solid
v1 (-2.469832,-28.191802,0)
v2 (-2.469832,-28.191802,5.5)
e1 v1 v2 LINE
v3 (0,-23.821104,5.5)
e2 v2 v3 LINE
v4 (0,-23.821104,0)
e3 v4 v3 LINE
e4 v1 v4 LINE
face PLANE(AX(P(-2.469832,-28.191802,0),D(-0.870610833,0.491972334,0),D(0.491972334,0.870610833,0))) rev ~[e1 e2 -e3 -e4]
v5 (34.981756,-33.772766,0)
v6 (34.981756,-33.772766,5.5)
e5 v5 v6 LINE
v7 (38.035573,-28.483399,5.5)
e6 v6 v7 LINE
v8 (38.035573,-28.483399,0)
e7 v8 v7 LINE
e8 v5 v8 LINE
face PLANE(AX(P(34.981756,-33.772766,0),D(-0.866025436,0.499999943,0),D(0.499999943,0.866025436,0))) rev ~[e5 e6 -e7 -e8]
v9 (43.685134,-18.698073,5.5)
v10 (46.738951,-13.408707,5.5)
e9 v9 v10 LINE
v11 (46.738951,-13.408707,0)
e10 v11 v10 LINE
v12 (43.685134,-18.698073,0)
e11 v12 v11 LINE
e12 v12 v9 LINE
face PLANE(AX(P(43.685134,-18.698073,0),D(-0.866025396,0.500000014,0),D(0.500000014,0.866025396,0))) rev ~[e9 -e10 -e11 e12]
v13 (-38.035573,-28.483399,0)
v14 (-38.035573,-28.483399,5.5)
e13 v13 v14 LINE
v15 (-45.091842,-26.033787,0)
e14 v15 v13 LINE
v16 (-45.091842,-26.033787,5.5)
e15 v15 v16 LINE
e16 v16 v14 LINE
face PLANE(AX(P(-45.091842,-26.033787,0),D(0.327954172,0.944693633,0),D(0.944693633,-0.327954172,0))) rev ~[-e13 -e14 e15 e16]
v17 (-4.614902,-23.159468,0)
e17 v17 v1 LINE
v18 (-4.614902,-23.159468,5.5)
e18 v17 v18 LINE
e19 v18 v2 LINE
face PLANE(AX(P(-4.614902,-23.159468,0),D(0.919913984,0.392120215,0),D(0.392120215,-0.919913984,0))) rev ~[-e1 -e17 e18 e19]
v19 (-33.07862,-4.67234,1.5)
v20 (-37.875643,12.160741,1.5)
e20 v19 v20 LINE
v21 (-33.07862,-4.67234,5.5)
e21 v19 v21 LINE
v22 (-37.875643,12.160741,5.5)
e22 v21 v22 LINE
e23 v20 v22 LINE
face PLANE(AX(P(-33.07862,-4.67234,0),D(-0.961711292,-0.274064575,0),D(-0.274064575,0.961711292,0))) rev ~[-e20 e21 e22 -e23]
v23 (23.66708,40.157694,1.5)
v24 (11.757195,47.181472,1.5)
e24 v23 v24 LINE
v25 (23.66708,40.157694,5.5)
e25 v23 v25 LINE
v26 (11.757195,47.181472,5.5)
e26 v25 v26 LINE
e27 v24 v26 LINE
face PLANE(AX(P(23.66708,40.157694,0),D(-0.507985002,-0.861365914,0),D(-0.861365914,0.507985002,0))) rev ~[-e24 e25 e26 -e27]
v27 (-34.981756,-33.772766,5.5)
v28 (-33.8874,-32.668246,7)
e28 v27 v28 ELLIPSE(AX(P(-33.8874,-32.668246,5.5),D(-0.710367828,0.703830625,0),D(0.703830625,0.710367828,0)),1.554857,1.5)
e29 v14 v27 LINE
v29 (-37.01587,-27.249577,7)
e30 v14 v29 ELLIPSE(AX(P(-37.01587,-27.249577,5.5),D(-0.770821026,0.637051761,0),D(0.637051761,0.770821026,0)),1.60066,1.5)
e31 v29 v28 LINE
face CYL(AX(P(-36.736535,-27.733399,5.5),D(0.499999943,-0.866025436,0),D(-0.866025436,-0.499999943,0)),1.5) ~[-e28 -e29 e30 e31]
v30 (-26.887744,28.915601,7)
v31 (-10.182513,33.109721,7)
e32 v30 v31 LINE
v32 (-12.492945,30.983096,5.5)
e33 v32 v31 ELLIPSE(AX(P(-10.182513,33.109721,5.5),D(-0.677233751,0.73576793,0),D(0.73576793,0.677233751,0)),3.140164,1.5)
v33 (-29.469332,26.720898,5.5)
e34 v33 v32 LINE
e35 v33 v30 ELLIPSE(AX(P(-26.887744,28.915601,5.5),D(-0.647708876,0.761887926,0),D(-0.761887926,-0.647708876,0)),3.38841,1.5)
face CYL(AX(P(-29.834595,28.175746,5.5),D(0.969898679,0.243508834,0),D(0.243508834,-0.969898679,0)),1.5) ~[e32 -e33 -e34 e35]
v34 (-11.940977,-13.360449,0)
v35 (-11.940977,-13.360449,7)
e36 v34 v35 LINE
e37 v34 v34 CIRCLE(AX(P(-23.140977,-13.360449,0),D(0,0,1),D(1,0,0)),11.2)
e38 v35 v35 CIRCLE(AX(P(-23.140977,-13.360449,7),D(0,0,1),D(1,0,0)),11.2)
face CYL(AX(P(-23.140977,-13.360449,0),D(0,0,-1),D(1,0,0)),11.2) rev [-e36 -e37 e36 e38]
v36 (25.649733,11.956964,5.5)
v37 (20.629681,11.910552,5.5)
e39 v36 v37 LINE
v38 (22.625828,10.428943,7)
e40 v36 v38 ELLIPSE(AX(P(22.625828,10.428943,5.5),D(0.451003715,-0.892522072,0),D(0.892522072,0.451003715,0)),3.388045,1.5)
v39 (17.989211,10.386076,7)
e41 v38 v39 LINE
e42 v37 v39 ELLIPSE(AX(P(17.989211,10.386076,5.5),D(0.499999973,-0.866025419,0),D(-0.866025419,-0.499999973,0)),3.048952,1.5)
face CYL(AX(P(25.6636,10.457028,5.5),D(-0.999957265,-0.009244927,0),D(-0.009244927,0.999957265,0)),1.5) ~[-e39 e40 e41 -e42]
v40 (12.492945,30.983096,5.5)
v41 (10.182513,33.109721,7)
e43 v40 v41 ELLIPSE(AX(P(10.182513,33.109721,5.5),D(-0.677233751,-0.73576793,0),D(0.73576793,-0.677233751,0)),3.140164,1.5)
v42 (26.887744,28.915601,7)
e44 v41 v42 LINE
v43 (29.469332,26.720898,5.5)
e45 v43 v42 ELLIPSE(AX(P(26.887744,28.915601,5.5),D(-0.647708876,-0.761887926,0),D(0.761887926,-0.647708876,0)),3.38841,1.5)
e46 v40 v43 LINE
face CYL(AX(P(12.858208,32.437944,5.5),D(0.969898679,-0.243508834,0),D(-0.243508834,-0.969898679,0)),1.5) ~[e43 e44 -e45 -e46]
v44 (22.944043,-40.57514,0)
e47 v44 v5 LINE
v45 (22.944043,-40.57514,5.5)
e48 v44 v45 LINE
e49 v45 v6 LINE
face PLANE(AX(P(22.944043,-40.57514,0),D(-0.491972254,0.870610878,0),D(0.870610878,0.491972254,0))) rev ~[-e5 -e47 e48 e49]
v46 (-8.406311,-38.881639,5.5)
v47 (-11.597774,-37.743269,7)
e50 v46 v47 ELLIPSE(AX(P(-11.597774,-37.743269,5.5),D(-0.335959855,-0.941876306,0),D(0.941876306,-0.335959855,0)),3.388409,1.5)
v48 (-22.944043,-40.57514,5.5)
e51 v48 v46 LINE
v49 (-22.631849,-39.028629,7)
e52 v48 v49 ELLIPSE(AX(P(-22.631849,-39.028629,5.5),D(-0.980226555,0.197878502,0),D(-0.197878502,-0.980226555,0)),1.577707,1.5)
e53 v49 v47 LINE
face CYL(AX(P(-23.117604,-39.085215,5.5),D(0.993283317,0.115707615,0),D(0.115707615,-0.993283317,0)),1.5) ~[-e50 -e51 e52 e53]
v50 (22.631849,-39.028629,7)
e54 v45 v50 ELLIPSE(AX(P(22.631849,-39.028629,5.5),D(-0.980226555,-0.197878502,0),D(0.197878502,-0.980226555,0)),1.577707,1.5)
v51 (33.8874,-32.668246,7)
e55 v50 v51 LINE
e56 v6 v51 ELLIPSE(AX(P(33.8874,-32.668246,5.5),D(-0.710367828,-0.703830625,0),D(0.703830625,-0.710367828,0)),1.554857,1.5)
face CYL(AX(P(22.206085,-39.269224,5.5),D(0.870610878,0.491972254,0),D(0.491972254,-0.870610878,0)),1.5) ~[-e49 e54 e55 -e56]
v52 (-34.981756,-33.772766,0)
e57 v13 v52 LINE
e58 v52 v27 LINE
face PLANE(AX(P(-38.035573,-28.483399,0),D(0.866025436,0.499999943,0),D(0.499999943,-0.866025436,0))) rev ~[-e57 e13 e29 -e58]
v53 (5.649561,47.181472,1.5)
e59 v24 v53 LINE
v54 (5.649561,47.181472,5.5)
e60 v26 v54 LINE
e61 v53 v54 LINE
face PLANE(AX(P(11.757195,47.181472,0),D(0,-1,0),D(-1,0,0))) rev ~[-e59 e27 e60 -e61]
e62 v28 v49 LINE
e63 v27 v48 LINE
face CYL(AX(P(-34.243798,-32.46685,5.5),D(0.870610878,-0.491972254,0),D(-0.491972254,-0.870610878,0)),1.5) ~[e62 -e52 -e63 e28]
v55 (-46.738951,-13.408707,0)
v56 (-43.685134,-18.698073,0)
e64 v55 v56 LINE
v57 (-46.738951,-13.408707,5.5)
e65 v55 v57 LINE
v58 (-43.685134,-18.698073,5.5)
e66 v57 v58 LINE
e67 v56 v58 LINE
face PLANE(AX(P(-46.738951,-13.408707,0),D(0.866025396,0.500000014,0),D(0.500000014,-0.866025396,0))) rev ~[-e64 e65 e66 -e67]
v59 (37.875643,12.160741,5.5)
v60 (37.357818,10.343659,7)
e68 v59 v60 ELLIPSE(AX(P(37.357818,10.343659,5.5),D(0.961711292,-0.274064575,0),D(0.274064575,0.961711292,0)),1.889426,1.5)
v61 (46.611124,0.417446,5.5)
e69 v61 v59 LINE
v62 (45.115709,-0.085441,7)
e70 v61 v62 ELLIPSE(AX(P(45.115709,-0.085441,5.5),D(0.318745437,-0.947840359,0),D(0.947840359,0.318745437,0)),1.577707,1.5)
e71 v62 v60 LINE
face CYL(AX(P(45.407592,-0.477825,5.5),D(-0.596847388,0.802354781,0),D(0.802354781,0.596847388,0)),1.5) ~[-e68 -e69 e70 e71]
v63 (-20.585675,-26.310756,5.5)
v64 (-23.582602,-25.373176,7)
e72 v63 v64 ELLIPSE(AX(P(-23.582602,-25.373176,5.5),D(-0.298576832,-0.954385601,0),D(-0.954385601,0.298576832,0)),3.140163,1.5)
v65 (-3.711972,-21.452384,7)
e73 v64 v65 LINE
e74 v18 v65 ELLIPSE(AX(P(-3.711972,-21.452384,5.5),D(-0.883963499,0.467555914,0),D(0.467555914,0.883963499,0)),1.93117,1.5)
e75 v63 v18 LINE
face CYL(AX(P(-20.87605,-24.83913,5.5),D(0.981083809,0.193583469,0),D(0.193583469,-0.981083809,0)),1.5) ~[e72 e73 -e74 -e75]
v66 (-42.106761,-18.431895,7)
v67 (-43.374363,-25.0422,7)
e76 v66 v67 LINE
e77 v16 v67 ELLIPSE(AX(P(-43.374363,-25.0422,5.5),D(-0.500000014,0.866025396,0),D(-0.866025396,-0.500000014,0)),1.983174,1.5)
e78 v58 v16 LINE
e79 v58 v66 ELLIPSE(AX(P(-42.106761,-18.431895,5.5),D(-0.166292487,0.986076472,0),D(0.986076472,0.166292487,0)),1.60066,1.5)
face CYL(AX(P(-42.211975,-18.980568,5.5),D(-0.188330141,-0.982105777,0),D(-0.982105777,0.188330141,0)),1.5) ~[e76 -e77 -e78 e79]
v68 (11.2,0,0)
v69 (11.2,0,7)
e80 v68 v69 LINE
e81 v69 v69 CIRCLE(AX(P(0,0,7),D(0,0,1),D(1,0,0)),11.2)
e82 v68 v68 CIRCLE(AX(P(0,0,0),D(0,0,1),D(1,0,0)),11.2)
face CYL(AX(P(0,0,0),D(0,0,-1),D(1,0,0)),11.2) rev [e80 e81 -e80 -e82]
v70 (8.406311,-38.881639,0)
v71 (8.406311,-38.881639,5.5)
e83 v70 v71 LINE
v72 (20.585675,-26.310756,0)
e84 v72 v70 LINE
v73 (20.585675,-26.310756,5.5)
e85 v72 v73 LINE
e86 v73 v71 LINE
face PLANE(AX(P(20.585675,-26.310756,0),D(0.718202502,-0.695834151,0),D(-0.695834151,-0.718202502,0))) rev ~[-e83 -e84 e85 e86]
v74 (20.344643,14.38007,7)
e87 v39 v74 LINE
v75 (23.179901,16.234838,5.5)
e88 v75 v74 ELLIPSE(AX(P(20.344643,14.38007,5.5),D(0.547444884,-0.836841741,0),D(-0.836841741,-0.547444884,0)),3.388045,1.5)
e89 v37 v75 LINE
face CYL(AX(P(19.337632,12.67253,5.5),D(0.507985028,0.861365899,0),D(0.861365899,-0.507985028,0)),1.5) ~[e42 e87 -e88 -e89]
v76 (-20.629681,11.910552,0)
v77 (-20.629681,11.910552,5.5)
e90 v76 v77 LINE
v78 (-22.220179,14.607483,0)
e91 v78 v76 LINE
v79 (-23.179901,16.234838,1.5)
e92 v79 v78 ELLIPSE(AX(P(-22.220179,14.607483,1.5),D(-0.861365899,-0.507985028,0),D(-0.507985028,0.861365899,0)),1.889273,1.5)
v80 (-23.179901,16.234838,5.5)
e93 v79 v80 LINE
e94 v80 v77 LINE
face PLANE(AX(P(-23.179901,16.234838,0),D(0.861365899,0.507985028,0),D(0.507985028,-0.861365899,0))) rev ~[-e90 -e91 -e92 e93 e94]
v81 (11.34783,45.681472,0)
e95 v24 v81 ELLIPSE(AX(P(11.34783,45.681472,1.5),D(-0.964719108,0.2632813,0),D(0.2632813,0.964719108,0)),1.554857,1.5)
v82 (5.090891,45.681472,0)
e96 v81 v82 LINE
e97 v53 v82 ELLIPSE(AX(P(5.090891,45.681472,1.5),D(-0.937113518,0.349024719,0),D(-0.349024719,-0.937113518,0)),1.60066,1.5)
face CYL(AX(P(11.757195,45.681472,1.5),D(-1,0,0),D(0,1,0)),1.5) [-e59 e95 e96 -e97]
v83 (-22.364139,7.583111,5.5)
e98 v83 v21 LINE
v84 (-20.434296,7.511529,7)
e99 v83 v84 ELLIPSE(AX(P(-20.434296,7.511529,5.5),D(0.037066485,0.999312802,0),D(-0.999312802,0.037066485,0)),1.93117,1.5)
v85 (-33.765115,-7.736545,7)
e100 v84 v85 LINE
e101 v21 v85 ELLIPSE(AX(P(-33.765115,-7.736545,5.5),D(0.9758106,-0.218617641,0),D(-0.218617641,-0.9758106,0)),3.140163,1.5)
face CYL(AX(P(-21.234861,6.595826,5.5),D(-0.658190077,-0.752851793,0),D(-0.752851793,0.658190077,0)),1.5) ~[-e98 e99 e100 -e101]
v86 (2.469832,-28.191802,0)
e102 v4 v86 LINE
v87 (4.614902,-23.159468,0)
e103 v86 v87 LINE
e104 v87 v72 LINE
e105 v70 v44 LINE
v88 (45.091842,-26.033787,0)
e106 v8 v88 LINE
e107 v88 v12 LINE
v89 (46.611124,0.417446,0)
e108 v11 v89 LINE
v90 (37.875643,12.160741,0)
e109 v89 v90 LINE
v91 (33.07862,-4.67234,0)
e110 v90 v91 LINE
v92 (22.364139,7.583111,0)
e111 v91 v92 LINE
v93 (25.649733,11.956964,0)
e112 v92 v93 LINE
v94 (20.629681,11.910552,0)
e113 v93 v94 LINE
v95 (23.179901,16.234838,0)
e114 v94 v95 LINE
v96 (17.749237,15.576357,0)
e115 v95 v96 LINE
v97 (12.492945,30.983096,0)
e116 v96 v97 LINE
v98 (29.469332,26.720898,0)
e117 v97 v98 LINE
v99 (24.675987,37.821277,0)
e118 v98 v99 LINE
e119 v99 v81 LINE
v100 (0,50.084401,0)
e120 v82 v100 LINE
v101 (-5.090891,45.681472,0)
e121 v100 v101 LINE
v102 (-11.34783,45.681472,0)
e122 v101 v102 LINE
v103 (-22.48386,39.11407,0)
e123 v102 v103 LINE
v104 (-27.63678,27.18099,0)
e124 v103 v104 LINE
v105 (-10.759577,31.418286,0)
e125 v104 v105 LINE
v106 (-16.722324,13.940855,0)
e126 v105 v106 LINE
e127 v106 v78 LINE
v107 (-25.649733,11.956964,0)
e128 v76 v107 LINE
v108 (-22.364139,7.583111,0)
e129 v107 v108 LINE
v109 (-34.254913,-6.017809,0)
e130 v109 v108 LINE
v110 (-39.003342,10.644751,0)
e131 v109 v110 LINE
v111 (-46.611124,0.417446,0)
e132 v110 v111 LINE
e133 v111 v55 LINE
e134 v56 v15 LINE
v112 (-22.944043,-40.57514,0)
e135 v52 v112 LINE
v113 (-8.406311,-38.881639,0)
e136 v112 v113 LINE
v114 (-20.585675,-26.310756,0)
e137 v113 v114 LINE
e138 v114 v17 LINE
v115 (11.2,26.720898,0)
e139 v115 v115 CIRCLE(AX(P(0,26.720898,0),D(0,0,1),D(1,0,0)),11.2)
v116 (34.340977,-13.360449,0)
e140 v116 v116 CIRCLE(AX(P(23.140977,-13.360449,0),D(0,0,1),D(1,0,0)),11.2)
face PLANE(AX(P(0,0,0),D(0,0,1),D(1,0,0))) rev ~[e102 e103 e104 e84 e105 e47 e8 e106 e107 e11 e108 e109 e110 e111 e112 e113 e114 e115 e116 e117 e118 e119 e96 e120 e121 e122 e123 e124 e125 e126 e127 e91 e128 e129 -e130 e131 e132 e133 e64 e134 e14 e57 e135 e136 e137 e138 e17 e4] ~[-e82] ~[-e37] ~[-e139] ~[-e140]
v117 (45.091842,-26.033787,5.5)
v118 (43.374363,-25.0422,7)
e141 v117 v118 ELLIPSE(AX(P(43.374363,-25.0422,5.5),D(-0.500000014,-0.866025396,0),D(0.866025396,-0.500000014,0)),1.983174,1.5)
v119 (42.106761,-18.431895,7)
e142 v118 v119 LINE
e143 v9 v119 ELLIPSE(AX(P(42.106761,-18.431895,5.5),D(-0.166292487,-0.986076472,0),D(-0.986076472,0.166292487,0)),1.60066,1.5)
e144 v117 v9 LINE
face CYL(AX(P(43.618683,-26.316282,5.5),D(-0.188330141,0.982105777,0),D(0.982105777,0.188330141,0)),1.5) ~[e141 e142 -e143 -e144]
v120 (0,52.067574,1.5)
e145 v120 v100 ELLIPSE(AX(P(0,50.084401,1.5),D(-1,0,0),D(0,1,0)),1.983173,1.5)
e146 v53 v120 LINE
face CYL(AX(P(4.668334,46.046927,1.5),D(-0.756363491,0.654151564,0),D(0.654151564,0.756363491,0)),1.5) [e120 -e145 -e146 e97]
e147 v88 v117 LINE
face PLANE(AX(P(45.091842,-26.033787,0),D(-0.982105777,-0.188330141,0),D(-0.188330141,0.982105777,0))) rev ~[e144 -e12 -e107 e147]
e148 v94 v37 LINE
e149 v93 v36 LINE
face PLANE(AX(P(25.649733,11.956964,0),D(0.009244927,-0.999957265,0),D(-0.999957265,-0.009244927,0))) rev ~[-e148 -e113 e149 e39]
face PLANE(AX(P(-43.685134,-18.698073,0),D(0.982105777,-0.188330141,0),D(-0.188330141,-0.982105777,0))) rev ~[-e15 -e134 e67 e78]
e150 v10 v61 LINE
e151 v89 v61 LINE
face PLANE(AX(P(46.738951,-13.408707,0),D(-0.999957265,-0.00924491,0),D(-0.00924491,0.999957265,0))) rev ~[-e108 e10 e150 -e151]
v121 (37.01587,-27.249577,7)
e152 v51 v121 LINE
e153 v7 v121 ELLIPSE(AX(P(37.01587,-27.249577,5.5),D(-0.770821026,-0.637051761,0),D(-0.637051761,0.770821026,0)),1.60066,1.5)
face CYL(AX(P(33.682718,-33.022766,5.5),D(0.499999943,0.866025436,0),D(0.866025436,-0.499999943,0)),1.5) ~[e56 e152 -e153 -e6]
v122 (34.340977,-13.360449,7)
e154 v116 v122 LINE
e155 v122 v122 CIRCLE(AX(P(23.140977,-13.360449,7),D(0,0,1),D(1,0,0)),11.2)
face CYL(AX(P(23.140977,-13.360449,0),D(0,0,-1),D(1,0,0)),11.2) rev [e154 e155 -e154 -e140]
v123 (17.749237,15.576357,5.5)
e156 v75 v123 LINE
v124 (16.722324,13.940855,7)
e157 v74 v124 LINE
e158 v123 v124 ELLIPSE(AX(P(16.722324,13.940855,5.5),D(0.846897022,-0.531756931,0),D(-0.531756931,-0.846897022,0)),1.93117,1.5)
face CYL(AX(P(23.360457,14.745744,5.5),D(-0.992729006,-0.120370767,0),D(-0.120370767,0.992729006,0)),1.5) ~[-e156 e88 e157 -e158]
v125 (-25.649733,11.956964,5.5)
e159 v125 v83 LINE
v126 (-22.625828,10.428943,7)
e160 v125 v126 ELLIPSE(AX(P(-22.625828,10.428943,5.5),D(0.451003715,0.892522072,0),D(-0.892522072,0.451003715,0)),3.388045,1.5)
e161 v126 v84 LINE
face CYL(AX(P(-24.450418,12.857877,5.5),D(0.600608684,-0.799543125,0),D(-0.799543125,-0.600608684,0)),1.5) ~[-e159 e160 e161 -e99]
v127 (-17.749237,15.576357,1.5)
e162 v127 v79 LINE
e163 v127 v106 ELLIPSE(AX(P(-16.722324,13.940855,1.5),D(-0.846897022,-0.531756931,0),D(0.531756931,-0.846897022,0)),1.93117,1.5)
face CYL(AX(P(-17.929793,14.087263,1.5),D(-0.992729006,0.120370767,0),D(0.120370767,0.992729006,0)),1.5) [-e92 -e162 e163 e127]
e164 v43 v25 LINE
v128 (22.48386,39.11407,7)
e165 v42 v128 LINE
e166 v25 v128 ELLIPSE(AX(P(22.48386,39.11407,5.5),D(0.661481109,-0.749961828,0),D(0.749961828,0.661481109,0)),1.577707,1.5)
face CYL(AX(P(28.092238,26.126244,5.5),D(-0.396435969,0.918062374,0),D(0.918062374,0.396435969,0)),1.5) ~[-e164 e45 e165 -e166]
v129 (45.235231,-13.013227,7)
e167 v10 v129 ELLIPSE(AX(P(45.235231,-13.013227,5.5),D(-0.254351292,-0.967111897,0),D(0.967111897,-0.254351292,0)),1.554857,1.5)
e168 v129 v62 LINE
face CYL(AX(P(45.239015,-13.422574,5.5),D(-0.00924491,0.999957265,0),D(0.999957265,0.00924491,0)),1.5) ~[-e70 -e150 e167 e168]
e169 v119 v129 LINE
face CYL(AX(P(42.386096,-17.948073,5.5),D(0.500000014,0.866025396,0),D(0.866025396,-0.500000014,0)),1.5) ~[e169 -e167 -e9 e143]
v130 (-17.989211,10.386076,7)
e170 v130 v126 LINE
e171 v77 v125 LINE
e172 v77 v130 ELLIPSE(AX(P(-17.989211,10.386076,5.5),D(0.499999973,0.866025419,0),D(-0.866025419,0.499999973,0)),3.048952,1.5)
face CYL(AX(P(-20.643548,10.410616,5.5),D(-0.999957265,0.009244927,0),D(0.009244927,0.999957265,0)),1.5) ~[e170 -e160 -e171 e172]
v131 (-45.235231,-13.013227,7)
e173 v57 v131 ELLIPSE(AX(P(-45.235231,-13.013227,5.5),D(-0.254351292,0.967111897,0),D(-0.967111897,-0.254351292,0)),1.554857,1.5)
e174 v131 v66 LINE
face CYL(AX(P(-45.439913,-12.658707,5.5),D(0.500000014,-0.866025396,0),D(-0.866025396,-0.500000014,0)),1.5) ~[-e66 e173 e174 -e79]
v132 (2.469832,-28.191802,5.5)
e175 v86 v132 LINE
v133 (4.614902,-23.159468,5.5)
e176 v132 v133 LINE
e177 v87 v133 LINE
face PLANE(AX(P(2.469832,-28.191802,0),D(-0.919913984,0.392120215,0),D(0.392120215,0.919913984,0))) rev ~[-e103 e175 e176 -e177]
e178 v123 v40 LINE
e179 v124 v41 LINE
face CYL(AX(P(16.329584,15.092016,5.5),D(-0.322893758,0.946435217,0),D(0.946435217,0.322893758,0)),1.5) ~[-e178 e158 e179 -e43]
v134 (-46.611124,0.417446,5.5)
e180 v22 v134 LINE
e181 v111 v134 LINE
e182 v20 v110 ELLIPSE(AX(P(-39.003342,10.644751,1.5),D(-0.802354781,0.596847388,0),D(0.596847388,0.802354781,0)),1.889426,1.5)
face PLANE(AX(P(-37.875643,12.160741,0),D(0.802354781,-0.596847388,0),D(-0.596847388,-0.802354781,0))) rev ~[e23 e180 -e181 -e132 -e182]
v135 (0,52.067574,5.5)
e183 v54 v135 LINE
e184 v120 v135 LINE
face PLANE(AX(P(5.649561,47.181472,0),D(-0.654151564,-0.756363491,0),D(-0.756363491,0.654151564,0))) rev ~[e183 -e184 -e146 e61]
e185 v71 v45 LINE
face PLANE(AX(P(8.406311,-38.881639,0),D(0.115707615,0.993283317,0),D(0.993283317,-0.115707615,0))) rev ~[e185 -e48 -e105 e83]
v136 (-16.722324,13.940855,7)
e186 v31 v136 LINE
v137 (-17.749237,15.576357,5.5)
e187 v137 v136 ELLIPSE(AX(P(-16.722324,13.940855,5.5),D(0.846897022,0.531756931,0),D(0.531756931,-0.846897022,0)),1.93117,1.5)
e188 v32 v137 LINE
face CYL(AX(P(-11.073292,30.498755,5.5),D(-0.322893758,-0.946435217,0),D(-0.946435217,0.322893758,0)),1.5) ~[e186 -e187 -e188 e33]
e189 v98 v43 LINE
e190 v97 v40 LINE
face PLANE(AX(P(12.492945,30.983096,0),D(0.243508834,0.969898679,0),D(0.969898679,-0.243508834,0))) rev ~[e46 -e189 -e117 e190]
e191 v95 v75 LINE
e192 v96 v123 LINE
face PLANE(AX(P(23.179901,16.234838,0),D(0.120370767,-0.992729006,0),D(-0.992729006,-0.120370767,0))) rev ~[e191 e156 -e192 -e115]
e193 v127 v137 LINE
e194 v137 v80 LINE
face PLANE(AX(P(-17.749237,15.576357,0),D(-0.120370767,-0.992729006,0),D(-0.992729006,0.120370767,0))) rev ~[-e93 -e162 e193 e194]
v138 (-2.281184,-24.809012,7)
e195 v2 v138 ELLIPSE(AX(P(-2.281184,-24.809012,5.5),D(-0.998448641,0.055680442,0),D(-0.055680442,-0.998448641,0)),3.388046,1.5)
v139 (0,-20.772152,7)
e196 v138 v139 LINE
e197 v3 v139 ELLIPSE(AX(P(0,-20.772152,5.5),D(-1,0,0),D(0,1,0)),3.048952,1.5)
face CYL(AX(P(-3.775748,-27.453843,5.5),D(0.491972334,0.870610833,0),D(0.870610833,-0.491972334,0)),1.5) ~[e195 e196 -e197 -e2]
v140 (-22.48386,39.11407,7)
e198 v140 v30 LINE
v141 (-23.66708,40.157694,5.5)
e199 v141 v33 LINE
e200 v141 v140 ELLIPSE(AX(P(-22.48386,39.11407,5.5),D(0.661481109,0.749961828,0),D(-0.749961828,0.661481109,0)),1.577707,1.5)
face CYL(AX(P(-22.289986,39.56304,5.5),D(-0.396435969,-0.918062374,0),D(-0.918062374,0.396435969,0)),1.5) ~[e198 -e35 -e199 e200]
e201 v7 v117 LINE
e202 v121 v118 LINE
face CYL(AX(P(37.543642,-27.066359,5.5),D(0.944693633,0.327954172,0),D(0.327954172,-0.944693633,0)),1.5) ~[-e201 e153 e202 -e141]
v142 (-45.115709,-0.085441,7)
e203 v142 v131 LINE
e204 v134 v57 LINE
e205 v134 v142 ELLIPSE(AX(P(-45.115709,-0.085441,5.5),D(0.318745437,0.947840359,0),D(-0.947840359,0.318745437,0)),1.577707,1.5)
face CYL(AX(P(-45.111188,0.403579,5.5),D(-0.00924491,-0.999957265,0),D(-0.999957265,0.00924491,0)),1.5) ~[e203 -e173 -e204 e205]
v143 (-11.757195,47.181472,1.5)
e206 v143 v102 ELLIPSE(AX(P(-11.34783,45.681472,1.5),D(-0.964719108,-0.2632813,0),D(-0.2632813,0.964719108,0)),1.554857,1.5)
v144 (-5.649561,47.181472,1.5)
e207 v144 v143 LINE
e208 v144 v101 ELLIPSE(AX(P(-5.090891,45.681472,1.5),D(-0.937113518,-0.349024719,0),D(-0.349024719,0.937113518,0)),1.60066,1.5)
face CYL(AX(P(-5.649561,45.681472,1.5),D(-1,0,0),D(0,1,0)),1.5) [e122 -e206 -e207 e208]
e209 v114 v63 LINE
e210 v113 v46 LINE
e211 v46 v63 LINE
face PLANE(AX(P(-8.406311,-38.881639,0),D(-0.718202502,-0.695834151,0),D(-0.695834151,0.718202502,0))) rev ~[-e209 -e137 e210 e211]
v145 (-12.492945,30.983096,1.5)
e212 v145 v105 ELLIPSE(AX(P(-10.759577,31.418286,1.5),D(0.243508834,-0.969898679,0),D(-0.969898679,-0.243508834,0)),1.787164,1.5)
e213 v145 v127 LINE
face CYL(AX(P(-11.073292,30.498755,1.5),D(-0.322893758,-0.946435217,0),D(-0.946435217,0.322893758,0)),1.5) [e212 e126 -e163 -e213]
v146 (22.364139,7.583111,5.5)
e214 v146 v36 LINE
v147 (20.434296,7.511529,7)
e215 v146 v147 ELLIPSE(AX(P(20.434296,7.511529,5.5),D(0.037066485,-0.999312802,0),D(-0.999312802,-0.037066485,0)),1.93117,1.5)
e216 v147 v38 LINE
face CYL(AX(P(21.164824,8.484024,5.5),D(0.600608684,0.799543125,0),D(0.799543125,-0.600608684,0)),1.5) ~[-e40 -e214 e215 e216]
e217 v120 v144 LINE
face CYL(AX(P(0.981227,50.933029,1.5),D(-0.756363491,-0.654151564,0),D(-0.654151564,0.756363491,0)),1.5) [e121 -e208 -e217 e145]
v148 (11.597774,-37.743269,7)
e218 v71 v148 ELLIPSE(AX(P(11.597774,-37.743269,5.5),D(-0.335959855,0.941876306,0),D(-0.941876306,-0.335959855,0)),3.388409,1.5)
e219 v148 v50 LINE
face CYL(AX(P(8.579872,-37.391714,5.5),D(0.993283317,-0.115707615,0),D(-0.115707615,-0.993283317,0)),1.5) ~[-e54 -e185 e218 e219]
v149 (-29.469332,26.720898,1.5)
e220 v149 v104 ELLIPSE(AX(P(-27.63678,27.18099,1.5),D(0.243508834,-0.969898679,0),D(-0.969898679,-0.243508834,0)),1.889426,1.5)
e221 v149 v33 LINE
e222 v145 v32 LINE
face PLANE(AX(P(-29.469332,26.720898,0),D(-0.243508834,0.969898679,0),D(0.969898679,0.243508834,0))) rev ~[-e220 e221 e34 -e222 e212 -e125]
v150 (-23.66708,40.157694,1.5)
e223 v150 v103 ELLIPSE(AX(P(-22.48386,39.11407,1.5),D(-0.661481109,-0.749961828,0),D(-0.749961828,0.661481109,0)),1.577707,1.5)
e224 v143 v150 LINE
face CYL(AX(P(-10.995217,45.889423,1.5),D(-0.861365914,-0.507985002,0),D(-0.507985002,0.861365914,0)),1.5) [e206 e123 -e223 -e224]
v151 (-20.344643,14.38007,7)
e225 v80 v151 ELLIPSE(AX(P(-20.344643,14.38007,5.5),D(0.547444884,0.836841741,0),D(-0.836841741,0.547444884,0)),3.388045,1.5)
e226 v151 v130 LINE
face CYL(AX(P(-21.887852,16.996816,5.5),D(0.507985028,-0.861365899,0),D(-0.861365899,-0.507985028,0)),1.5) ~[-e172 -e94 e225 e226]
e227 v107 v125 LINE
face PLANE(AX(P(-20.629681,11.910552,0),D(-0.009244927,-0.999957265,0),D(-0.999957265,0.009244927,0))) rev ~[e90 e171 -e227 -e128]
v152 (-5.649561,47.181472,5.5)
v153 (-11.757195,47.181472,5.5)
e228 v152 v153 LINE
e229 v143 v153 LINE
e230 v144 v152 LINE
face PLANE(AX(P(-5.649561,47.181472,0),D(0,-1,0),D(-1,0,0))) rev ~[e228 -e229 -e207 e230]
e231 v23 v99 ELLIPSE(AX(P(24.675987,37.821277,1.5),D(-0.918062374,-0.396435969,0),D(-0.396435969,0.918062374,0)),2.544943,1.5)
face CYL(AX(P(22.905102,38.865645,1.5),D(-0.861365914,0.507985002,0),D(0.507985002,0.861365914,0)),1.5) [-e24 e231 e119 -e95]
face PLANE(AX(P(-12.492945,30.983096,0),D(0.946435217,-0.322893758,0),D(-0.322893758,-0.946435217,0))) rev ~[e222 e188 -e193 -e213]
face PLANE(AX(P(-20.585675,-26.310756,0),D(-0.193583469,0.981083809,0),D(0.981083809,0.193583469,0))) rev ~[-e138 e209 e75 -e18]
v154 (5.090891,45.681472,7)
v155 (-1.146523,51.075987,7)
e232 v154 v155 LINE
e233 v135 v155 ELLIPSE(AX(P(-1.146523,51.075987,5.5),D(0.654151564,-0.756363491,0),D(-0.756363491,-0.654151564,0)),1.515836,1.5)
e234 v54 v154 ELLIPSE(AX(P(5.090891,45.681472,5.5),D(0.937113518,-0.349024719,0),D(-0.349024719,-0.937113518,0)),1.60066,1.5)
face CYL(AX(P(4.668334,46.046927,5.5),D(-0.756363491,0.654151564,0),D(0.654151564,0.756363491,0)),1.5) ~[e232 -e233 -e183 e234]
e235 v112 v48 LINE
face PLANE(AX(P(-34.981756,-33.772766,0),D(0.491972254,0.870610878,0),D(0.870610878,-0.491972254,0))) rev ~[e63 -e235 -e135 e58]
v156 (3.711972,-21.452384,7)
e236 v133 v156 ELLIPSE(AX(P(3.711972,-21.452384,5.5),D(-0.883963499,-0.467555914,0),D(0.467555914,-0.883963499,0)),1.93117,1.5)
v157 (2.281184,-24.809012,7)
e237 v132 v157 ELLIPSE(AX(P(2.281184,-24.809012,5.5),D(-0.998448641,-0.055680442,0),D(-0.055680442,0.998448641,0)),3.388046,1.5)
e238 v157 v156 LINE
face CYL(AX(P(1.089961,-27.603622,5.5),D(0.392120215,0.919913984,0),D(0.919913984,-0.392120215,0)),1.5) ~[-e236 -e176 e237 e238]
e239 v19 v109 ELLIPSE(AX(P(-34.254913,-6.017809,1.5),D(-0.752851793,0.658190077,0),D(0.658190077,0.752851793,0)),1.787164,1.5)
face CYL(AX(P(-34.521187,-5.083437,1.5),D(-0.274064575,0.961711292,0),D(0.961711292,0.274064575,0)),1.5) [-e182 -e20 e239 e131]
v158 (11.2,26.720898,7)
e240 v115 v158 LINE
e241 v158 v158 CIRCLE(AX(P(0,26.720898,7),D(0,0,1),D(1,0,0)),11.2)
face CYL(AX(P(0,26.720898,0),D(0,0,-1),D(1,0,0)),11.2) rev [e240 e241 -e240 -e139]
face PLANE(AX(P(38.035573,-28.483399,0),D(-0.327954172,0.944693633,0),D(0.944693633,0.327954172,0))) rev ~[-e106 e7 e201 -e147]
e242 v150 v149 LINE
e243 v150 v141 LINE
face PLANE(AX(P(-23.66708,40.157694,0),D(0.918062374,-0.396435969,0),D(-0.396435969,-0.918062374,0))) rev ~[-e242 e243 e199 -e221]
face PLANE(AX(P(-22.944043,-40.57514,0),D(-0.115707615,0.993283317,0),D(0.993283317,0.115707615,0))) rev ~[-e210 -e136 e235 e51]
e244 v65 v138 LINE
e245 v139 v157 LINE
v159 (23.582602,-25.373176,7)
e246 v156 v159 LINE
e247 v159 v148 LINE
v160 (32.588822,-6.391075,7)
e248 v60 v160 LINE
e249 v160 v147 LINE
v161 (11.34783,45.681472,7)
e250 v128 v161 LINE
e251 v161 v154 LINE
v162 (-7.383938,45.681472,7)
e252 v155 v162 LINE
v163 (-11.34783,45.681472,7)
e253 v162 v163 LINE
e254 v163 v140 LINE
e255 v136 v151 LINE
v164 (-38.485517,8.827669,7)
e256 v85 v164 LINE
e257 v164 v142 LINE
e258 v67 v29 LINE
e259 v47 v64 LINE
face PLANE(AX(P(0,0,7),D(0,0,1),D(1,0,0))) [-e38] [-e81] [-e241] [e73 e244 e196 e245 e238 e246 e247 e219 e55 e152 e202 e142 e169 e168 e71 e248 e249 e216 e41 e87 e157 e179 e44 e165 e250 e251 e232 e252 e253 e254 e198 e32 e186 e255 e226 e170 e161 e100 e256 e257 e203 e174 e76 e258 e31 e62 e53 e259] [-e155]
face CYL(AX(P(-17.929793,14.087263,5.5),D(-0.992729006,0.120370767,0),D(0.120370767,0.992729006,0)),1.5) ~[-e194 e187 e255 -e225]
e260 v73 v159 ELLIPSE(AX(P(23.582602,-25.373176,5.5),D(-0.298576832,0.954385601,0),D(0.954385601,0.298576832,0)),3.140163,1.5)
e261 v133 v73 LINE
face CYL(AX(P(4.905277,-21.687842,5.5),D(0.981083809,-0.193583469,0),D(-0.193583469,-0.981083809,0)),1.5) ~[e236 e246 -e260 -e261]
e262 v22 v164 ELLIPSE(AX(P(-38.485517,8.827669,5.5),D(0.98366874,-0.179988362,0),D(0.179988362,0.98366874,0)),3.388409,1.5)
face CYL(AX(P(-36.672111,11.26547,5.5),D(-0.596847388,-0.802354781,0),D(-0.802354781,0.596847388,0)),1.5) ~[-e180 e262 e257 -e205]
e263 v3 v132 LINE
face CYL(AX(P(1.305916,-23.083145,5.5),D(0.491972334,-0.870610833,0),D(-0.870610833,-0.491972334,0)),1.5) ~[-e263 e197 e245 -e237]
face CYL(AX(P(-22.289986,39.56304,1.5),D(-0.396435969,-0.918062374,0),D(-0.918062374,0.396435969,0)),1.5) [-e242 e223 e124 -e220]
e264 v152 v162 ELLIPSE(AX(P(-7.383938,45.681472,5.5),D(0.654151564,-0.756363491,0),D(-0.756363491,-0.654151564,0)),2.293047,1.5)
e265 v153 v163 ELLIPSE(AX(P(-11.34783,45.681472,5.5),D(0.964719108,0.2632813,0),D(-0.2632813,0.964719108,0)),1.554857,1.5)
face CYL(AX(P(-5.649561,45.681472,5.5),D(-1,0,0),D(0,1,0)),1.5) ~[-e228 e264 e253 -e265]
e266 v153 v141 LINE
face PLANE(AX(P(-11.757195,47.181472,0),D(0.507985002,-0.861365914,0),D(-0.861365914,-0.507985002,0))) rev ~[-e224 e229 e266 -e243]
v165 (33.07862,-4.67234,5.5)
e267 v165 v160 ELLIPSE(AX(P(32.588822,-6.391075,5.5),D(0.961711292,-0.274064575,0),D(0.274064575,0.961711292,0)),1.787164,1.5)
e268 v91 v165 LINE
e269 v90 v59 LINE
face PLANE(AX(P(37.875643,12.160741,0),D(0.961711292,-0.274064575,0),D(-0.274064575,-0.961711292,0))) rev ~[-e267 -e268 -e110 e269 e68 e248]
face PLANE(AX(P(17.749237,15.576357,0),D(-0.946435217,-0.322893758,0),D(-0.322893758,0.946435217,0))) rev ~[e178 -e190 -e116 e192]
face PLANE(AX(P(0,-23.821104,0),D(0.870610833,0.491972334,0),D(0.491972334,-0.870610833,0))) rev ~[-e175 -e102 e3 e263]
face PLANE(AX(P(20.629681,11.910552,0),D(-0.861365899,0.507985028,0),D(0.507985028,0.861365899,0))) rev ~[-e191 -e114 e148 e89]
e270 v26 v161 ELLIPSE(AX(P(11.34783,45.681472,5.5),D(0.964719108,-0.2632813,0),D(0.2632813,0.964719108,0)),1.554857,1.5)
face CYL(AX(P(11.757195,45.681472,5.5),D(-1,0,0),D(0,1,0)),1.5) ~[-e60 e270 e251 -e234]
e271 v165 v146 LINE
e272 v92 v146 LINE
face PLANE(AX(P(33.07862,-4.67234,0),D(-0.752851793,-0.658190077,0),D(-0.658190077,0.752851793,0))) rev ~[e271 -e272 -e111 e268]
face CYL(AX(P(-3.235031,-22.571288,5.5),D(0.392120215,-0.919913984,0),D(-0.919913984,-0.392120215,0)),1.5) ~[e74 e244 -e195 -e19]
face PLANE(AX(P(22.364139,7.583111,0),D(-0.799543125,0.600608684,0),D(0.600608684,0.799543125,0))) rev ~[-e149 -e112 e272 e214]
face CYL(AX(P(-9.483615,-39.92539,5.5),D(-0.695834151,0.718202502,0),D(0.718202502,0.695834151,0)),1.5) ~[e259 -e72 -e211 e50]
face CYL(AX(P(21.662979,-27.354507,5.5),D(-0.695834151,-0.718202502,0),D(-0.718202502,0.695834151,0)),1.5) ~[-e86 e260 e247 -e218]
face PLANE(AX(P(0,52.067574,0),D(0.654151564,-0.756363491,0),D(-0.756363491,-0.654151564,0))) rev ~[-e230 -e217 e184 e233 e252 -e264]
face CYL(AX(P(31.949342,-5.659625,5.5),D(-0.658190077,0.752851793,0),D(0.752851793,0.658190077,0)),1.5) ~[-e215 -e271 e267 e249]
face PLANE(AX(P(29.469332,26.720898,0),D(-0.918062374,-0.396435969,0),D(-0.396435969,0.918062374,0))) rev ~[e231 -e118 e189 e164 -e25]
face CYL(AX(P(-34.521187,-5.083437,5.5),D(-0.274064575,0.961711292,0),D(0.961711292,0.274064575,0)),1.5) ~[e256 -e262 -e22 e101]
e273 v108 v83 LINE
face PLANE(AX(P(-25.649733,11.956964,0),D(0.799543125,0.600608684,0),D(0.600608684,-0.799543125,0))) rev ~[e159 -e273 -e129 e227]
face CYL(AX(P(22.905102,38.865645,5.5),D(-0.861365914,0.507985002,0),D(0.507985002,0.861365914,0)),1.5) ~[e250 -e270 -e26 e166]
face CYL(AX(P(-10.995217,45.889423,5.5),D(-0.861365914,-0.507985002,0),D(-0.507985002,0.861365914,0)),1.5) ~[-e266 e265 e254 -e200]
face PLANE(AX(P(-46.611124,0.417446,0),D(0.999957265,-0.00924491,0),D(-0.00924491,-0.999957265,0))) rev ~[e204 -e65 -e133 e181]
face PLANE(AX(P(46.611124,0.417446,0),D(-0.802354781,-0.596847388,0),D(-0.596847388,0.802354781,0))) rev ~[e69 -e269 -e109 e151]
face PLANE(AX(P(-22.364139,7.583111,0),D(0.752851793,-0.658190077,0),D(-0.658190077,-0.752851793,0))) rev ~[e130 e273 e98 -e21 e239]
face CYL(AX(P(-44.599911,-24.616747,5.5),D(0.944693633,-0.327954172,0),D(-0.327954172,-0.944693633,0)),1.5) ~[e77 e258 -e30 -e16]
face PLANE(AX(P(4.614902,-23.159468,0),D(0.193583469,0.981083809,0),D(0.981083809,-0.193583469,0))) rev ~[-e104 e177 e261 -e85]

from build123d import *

# Parameters (mm, degrees)
F0_R     = 11.2
F1_DEPTH = 7
F2_R     = 1.5


with BuildPart() as f1:
    # F0 (on Top) → F1 (new body)
    with BuildSketch(Plane.XY):
        Polygon((-29.469332, 26.720898), (-12.492945, 30.983096), (-17.749237, 15.576357), (-23.179901, 16.234838), (-20.629681, 11.910552), (-25.649733, 11.956964), (-22.364139, 7.583111), (-33.07862, -4.67234), (-37.875643, 12.160741), (-46.611124, 0.417446), (-46.738951, -13.408707), (-43.685134, -18.698073), (-45.091842, -26.033787), (-38.035573, -28.483399), (-34.981756, -33.772766), (-22.944043, -40.57514), (-8.406311, -38.881639), (-20.585675, -26.310756), (-4.614902, -23.159468), (-2.469832, -28.191802), (0, -23.821104), (2.469832, -28.191802), (4.614902, -23.159468), (20.585675, -26.310756), (8.406311, -38.881639), (22.944043, -40.57514), (34.981756, -33.772766), (38.035573, -28.483399), (45.091842, -26.033787), (43.685134, -18.698073), (46.738951, -13.408707), (46.611124, 0.417446), (37.875643, 12.160741), (33.07862, -4.67234), (22.364139, 7.583111), (25.649733, 11.956964), (20.629681, 11.910552), (23.179901, 16.234838), (17.749237, 15.576357), (12.492945, 30.983096), (29.469332, 26.720898), (23.66708, 40.157694), (11.757195, 47.181472), (5.649561, 47.181472), (0, 52.067574), (-5.649561, 47.181472), (-11.757195, 47.181472), (-23.66708, 40.157694), align=None)
        with Locations((-23.140977, -13.360449)):
            Circle(F0_R, mode=Mode.SUBTRACT)
        with Locations((23.140977, -13.360449)):
            Circle(F0_R, mode=Mode.SUBTRACT)
        Circle(F0_R, mode=Mode.SUBTRACT)
        with Locations((0, 26.720898)):
            Circle(F0_R, mode=Mode.SUBTRACT)
    extrude(amount=F1_DEPTH)

    # F2
    f2_edges = [f1.edges().sort_by_distance(p)[0] for p in [
        (20.981138, 28.851997, 7),
        (26.568206, 33.439296, 7),
        (17.712138, 43.669583, 7),
        (8.703378, 47.181472, 7),
        (2.824781, 49.624523, 7),
        (-8.703378, 47.181472, 7),
        (-17.712138, 43.669583, 7),
        (-26.568206, 33.439296, 7),
        (-20.981138, 28.851997, 7),
        (-15.121091, 23.279726, 7),
        (-20.464569, 15.905597, 7),
        (-27.72138, 1.455386, 7),
        (-23.139707, 11.933758, 7),
        (-21.904791, 14.072695, 7),
        (-24.006936, 9.770038, 7),
        (-35.477131, 3.7442, 7),
        (-42.243383, 6.289093, 7),
        (-46.675037, -6.49563, 7),
        (-45.212043, -16.05339, 7),
        (-44.388488, -22.36593, 7),
        (-41.563707, -27.258593, 7),
        (-28.9629, -37.173953, 7),
        (-15.675177, -39.72839, 7),
        (-36.508664, -31.128083, 7),
        (-14.495993, -32.596197, 7),
        (-12.600289, -24.735112, 7),
        (-3.542367, -25.675635, 7),
        (12.600289, -24.735112, 7),
        (14.495993, -32.596197, 7),
        (3.542367, -25.675635, 7),
        (15.675177, -39.72839, 7),
        (-1.234916, -26.006453, 7),
        (1.234916, -26.006453, 7),
        (28.9629, -37.173953, 7),
        (36.508664, -31.128083, 7),
        (41.563707, -27.258593, 7),
        (44.388488, -22.36593, 7),
        (45.212043, -16.05339, 7),
        (46.675037, -6.49563, 7),
        (42.243383, 6.289093, 7),
        (27.72138, 1.455386, 7),
        (24.006936, 9.770038, 7),
        (20.464569, 15.905597, 7),
        (15.121091, 23.279726, 7),
        (23.139707, 11.933758, 7),
        (21.904791, 14.072695, 7),
        (17.712138, 43.669583, 0),
        (8.703378, 47.181472, 0),
        (2.824781, 49.624523, 0),
        (-8.703378, 47.181472, 0),
        (-17.712138, 43.669583, 0),
        (-2.824781, 49.624523, 0),
        (-26.568206, 33.439296, 0),
        (-15.121091, 23.279726, 0),
        (-20.464569, 15.905597, 0),
        (-35.477131, 3.7442, 0),
    ]]
    fillet(f2_edges, radius=F2_R)


solid = f1.part
